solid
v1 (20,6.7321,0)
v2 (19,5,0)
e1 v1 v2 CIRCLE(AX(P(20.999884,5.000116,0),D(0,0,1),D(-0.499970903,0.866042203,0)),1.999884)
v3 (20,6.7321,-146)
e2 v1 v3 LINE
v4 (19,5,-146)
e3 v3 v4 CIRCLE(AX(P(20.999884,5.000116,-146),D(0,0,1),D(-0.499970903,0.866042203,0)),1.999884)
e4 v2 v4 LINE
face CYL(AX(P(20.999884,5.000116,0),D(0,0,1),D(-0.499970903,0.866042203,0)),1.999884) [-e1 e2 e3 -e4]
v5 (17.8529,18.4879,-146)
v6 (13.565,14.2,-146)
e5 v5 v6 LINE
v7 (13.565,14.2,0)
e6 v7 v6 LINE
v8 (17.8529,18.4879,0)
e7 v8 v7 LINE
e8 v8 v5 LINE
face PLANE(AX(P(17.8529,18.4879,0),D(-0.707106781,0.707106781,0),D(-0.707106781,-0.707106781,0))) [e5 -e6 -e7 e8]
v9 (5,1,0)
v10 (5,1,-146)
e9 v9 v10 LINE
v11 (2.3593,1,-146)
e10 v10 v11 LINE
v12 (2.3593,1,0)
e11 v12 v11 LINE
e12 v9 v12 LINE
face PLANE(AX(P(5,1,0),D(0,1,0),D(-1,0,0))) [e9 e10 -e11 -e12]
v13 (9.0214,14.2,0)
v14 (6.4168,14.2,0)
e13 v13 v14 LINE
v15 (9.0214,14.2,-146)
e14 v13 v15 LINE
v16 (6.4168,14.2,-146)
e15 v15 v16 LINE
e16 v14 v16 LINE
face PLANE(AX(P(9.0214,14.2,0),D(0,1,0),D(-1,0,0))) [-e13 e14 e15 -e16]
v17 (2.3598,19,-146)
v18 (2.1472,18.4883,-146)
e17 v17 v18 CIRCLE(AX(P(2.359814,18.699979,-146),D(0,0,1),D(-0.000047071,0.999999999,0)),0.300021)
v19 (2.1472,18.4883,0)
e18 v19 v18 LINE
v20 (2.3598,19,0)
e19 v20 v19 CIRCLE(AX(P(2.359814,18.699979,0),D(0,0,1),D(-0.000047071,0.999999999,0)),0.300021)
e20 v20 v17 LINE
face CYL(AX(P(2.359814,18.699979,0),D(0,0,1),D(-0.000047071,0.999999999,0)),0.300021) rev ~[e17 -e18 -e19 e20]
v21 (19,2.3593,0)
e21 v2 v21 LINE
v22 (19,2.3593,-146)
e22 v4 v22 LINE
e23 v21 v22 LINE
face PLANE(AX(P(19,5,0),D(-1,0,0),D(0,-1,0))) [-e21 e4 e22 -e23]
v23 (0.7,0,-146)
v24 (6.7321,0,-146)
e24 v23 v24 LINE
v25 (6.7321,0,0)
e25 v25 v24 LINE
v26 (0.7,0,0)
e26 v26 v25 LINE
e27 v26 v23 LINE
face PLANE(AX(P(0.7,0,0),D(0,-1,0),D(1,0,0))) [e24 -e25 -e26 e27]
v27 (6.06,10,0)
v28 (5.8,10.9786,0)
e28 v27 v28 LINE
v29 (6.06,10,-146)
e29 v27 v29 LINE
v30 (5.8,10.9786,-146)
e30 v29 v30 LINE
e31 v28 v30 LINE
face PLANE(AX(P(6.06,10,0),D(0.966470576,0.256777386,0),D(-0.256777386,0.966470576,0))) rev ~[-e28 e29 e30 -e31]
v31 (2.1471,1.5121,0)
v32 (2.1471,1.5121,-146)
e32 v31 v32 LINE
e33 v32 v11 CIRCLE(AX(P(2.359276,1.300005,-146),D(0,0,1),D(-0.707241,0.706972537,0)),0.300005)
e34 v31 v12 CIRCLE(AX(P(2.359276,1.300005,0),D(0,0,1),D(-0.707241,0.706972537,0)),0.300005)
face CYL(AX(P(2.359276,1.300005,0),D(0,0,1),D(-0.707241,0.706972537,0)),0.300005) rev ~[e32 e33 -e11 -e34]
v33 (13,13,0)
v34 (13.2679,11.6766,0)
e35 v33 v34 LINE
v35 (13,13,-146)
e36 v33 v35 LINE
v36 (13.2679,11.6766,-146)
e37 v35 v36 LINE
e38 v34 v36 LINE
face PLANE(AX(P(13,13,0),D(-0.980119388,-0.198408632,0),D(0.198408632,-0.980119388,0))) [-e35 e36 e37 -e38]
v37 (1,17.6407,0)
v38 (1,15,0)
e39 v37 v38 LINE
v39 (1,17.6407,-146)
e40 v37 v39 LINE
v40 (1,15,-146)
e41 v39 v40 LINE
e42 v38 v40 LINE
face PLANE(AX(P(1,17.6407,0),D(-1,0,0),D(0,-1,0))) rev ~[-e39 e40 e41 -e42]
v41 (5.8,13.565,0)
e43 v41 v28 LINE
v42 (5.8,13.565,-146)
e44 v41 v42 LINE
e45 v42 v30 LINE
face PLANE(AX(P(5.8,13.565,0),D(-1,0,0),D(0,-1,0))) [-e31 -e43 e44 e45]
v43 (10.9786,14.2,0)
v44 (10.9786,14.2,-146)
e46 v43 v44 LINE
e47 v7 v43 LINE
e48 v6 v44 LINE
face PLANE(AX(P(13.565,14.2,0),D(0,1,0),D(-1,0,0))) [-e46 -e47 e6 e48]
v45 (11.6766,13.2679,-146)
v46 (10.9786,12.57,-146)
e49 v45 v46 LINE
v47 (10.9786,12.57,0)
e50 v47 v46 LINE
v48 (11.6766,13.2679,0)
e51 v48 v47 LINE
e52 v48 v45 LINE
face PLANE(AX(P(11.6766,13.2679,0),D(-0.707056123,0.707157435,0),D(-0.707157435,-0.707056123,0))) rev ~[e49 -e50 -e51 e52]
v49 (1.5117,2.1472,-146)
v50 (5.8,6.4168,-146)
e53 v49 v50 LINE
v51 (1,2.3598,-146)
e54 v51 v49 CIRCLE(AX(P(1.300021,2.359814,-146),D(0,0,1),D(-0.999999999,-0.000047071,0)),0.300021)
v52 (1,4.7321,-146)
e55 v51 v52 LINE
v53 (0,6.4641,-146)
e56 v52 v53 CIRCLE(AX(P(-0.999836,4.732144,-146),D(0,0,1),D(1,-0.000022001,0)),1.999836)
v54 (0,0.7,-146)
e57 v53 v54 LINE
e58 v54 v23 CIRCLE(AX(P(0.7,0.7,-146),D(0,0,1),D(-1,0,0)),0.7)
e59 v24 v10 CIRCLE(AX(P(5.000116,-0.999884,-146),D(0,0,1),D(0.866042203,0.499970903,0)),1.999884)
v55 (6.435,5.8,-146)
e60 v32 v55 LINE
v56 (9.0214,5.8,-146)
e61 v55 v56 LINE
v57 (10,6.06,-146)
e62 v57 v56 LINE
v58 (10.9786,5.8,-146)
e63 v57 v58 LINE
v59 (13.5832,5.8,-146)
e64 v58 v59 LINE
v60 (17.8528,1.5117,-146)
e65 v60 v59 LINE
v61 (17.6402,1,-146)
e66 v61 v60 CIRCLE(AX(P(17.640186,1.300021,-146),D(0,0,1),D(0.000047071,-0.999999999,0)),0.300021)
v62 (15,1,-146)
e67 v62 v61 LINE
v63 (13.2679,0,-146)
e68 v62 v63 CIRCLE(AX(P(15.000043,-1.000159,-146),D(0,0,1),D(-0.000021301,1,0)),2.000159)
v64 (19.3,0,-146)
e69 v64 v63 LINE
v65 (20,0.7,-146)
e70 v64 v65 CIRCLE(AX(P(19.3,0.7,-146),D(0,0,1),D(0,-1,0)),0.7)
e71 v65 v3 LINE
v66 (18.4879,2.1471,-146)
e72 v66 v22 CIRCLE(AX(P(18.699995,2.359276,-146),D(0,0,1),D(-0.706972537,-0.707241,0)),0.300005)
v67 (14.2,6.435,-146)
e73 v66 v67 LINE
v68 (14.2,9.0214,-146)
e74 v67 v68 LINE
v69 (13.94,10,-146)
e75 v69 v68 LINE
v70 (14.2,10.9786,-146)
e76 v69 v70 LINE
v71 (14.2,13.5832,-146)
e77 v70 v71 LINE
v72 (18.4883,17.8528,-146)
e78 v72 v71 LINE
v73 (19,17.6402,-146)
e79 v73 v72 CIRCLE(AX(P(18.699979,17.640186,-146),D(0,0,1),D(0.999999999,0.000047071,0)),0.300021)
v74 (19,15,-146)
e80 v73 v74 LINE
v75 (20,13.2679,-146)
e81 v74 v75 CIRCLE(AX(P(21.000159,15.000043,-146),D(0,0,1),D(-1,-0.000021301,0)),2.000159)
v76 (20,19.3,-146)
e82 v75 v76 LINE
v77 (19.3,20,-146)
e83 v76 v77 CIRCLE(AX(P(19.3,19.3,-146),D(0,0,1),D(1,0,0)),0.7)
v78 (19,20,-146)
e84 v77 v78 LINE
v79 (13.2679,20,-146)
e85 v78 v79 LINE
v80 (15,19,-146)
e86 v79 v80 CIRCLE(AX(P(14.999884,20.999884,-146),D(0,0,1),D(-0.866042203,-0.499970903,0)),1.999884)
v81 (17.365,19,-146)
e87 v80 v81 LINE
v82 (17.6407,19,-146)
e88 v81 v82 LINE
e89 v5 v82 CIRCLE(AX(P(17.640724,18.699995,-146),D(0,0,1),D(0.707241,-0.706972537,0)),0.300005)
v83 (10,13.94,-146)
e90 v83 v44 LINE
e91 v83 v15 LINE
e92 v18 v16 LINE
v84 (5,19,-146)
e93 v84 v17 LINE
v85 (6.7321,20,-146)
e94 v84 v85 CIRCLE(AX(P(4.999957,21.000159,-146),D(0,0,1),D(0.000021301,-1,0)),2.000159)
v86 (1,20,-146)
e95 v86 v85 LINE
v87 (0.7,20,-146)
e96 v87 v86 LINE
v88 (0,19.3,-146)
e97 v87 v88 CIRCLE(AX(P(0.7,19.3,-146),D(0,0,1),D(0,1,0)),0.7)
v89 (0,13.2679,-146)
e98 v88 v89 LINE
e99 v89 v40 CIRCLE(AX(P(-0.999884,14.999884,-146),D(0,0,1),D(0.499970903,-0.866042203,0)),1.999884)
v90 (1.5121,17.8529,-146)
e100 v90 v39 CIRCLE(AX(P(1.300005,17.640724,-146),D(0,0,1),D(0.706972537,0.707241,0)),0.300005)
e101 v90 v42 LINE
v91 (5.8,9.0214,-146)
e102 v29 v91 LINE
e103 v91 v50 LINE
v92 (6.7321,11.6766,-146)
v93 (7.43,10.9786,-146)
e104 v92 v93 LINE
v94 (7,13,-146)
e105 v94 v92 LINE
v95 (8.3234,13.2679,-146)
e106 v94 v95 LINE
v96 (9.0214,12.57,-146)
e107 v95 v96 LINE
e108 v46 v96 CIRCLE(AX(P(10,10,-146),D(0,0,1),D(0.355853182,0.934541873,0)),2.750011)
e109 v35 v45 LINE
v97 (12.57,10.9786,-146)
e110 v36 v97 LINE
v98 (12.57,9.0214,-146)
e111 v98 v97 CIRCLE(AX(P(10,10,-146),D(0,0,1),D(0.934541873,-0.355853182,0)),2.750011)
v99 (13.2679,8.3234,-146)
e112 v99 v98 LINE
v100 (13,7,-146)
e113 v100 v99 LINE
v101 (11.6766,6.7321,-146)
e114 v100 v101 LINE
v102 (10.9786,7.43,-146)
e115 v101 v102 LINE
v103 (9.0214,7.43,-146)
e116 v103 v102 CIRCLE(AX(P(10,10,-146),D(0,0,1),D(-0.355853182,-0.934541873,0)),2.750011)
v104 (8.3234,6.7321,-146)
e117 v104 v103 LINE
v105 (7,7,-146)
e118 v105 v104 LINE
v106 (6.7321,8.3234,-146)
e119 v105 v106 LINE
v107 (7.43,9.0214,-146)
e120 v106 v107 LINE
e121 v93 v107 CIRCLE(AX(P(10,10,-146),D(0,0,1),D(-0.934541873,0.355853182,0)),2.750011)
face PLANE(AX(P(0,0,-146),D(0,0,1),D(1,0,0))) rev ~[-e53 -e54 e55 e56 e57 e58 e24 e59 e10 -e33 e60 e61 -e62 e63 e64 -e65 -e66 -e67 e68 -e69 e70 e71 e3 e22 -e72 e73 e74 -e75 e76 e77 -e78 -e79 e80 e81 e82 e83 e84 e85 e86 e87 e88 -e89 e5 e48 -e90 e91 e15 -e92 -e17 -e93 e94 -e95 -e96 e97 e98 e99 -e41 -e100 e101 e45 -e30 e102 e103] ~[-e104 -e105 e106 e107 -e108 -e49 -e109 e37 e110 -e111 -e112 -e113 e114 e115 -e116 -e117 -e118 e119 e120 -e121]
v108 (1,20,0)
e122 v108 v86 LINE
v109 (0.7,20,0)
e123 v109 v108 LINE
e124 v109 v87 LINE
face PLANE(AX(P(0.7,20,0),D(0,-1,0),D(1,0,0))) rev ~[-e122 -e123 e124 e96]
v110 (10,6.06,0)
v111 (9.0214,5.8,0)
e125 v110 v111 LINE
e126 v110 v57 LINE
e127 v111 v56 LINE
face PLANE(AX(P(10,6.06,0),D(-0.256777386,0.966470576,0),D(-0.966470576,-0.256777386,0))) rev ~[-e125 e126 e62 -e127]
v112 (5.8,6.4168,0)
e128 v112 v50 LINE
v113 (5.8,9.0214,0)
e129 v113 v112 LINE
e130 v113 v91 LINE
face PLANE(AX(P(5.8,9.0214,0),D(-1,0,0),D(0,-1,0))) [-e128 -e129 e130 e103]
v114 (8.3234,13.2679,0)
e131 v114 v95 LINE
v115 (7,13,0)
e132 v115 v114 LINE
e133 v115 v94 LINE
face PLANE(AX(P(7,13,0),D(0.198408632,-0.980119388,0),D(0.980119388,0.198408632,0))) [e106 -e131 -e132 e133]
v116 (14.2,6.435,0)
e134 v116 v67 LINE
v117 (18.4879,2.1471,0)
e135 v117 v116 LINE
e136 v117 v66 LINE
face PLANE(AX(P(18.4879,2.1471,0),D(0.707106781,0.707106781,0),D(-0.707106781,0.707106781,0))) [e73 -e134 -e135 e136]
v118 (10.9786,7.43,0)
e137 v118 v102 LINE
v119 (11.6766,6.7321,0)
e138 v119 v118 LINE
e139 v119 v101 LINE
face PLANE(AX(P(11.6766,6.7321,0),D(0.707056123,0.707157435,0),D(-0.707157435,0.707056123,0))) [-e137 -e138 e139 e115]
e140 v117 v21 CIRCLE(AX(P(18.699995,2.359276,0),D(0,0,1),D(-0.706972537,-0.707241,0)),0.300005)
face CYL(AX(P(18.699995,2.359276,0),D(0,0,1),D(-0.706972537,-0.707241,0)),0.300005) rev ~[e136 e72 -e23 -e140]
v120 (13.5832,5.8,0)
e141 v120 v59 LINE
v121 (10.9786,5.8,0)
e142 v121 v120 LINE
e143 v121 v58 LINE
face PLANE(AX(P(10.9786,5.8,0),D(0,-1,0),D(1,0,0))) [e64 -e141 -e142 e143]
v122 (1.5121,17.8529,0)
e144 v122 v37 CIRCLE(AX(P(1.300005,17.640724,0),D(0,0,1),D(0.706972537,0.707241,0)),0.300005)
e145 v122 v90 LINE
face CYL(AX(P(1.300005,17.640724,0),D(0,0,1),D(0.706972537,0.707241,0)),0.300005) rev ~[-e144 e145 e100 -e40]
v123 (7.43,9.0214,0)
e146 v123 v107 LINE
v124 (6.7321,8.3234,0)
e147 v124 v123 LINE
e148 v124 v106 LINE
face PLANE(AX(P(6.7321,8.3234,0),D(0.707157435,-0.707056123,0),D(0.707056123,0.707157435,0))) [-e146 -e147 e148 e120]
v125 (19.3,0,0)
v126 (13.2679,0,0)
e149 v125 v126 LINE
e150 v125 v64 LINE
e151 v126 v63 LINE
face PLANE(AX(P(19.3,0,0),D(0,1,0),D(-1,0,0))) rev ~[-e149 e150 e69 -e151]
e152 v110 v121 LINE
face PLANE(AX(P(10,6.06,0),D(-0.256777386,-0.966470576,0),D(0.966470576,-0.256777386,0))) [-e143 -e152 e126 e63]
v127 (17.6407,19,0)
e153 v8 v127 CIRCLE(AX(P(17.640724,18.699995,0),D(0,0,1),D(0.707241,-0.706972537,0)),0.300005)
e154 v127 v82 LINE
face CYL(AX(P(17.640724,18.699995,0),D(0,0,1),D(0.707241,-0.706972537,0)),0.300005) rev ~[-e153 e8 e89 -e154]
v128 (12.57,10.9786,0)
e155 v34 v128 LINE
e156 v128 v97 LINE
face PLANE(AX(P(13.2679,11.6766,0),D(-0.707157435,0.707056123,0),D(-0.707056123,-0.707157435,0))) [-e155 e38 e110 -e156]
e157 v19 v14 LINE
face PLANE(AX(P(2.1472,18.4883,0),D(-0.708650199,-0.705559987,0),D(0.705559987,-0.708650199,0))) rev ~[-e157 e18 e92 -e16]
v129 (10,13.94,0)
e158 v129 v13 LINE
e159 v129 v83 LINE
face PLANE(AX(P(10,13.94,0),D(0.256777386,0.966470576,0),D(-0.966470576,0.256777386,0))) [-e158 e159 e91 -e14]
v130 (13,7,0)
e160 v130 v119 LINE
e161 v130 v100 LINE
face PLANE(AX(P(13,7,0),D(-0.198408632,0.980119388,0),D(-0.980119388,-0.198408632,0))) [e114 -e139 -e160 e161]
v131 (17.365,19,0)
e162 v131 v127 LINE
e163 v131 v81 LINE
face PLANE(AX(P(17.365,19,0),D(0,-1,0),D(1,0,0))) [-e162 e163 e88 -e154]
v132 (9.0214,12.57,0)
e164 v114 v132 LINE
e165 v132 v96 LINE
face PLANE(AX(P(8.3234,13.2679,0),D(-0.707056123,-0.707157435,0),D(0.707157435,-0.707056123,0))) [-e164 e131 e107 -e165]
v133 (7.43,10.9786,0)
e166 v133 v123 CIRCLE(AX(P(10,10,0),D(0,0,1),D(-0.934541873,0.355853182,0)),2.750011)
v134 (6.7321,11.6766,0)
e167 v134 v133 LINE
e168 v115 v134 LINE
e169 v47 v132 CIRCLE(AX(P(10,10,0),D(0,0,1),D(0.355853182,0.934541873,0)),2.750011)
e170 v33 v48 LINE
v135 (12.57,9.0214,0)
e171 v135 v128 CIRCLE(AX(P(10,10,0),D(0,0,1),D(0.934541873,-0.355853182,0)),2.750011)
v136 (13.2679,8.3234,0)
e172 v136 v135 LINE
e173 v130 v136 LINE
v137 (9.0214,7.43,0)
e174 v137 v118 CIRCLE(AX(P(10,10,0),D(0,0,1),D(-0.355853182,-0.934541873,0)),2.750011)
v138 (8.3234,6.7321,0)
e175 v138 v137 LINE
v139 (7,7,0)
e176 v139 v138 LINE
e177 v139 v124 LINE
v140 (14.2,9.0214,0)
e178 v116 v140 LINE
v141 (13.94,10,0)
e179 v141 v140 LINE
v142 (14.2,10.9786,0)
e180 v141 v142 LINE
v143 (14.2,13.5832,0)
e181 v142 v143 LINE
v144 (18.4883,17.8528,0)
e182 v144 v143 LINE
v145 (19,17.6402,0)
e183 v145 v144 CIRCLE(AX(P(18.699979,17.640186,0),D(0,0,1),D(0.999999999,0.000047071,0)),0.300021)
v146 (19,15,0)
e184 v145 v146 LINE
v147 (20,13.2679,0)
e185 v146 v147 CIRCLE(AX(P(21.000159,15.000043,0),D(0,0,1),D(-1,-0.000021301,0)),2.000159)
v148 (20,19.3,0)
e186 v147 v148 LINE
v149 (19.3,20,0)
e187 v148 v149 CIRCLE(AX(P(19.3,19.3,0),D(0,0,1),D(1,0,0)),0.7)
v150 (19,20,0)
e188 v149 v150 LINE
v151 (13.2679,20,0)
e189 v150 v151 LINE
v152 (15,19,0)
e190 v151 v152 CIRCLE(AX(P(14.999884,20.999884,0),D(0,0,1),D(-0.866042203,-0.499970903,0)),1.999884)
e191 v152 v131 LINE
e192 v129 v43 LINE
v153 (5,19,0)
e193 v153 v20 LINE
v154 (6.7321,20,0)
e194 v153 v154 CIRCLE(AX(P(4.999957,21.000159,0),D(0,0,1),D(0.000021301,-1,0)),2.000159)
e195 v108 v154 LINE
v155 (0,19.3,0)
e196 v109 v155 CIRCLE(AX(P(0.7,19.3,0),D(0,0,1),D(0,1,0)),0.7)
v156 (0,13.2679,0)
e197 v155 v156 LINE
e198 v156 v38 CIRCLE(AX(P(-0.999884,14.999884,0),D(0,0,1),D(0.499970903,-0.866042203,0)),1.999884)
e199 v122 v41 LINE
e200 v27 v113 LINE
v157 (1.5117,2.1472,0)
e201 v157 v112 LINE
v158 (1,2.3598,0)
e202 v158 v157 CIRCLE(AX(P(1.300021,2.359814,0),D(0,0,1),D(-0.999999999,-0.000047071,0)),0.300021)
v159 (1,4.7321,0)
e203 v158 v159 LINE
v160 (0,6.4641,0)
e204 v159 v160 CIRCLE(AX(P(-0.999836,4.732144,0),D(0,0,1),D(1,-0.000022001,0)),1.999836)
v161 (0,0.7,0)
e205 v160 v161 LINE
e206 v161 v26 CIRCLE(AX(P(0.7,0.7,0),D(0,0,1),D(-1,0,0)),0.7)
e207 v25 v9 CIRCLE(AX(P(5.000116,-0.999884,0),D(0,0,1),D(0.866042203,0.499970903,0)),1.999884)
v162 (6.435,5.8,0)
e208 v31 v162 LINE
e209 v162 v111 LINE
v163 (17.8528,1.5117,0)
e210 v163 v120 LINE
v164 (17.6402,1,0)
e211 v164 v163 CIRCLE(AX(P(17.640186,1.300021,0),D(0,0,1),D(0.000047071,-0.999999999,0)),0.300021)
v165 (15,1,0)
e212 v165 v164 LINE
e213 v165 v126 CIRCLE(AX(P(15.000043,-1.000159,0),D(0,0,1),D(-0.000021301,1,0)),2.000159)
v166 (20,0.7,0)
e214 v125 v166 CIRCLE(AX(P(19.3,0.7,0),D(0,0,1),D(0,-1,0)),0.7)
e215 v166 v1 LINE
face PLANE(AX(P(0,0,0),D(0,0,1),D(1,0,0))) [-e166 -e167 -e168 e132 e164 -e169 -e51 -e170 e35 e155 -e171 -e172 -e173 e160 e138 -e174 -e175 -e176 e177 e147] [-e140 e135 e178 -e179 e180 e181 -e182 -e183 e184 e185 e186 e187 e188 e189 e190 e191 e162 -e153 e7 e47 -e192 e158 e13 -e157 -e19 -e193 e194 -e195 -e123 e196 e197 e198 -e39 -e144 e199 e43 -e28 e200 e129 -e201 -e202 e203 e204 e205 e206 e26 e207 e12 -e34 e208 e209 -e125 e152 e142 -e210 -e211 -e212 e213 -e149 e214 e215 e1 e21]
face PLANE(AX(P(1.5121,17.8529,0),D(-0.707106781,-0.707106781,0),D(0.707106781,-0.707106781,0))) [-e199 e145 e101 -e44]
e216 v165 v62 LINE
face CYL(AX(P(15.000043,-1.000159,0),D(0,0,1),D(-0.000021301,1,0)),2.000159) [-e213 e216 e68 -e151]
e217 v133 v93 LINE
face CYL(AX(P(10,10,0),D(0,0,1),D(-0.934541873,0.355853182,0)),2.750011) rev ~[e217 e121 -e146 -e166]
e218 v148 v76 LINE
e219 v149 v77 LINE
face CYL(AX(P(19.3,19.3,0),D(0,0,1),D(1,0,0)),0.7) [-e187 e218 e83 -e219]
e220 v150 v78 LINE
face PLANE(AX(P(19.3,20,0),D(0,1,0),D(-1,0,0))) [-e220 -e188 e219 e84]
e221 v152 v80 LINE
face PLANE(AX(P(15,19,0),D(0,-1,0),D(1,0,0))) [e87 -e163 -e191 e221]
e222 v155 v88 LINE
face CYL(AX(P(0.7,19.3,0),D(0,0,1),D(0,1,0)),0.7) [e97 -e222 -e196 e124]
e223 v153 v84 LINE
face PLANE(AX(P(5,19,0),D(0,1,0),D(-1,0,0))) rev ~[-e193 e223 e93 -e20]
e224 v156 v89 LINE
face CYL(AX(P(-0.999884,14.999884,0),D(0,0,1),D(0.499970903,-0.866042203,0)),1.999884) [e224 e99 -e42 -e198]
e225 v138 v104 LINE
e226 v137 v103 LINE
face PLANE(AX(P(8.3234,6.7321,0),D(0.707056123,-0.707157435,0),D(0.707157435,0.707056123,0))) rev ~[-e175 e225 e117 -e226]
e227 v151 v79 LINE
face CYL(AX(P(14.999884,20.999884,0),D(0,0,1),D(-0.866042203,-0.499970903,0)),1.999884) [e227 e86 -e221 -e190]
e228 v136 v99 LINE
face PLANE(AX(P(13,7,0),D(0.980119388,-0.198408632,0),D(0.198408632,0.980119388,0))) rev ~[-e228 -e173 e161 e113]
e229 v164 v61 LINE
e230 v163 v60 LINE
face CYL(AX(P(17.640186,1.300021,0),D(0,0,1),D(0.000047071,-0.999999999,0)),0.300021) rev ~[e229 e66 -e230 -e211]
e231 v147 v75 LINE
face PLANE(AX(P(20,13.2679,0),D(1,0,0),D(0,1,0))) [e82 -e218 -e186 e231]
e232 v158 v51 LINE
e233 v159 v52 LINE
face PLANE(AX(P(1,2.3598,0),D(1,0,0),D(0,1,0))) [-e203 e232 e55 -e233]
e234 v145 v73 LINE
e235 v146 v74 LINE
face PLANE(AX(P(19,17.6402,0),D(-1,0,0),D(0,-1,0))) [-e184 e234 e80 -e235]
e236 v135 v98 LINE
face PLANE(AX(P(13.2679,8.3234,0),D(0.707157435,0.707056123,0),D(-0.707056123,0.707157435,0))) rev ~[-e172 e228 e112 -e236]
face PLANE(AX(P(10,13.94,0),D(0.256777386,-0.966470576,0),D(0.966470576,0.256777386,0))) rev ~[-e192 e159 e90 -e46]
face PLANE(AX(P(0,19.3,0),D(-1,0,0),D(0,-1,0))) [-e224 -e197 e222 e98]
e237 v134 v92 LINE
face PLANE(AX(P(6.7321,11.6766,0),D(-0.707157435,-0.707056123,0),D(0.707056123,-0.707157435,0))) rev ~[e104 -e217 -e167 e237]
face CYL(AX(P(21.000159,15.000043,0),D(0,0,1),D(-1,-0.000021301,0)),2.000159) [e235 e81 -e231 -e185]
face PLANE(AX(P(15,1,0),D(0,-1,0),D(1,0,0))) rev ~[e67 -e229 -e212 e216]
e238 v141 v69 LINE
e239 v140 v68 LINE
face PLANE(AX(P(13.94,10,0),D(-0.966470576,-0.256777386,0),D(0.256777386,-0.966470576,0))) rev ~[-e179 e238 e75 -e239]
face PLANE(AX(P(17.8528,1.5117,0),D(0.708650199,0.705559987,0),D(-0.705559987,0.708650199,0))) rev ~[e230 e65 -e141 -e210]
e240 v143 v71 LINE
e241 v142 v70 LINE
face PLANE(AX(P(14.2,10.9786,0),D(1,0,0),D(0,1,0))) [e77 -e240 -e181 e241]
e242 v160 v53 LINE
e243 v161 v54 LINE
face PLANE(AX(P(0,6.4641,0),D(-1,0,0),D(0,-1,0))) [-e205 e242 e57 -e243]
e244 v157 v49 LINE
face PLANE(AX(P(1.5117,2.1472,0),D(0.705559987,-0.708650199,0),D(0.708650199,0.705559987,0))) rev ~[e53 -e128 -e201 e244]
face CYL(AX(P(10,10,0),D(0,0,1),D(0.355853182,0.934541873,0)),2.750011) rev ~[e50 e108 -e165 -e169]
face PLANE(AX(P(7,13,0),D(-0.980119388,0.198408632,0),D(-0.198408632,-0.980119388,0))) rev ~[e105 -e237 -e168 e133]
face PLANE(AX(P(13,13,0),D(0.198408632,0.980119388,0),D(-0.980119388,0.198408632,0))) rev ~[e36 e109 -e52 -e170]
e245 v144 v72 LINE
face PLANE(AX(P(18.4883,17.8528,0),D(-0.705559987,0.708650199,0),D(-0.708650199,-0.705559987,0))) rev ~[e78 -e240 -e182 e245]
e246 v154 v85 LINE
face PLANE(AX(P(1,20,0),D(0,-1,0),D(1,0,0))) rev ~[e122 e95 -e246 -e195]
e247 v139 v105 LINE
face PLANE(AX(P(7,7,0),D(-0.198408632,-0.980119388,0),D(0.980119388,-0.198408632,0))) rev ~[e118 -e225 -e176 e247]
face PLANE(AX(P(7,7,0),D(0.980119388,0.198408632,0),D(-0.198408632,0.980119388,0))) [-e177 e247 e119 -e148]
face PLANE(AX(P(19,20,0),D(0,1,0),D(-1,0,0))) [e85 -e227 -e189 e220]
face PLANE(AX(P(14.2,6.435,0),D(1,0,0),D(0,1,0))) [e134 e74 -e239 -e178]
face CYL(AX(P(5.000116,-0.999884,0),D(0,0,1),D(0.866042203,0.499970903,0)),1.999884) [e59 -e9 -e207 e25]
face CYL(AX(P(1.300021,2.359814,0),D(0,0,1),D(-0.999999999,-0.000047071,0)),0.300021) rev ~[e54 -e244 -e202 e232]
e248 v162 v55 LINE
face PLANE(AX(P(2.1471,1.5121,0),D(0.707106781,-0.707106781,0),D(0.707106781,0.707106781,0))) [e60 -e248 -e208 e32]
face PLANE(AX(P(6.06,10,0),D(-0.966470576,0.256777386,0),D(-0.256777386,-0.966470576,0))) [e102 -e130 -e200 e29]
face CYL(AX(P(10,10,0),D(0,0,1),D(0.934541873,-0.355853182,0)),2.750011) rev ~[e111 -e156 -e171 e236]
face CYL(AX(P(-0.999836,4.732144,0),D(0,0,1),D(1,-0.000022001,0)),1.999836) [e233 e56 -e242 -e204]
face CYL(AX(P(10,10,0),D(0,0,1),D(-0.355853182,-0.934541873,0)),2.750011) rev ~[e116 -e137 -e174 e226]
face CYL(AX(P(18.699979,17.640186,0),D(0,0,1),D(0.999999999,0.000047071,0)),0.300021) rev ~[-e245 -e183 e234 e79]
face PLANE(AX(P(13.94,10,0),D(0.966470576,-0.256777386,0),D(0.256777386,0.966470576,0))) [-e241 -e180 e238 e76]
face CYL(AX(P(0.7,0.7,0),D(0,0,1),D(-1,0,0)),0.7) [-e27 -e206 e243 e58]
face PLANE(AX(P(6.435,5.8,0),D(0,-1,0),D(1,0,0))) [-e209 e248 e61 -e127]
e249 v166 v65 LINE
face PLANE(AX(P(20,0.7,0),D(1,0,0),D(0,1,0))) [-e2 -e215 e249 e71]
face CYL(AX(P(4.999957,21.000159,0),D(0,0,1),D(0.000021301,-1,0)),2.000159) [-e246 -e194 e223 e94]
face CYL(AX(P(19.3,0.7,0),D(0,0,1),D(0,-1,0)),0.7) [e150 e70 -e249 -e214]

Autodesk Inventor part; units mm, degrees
ref_plane "YZ Plane" through (0, 0, 0) normal (1, 0, 0) x (0, 1, 0)
ref_plane "XZ Plane" through (0, 0, 0) normal (0, 1, 0) x (-1, 0, 0)
ref_plane "XY Plane" through (0, 0, 0) normal (0, 0, 1) x (1, 0, 0)
sketch "Boceto1" plane through (0, 0, 0) normal (0, 0, 1) x (1, 0, 0)
  line L0 (0, 20) -> (7, 20)
  line L1 (7, 20) -> (7, 21)
  line L2 (0, 20) -> (1, 20)
  line L3 (1, 17.6407) -> (1, 15)
  line L4 (-1, 13) -> (0, 13)
  line L5 (5, 19) -> (2.3598, 19)
  arc A0 (5, 19) -> (6.7321, 20) centre (5, 21) ccw
  arc A1 (0, 13.2679) -> (1, 15) centre (-1, 15) ccw
  line L6 (20, 20) -> (13, 20)
  line L7 (19.3, 20) -> (19, 20)
  line L8 (19, 17.6402) -> (19, 15)
  line L9 (21, 13) -> (20, 13)
  line L10 (13, 20) -> (13, 21)
  line L11 (15, 19) -> (18.365, 19)
  arc A2 (13.2679, 20) -> (15, 19) centre (15, 21) ccw
  arc A3 (19, 15) -> (20, 13.2679) centre (21, 15) ccw
  line L12 (0.7, 0) -> (7, 0)
  line L13 (-1, 8.6378) -> (0, 8.6378)
  line L14 (7, 0) -> (7, -1)
  line L15 (5, 1) -> (2.3593, 1)
  line L16 (19.3, 0) -> (13, 0)
  line L17 (13, 0) -> (13, -1)
  line L18 (15, 1) -> (17.6402, 1)
  line L19 (19, 5) -> (19, 2.3593)
  arc A4 (20, 6.7321) -> (19, 5) centre (21, 5) ccw
  arc A5 (15, 1) -> (13.2679, 0) centre (15, -1) ccw
  arc A6 (6.7321, 0) -> (5, 1) centre (5, -1) ccw
  line L20 (20, 20) -> (13, 20)
  line L21 (7, 20) -> (0.7, 20)
  line L22 (0, 19.3) -> (0, 13)
  line L23 (0, 6.4641) -> (0, 0.7)
  line L24 (20, 0.7) -> (20, 6.7321)
  line L25 (20, 13) -> (20, 19.3)
  line L26 (0, 0) -> (7, 0)
  line L27 (13, 0) -> (20, 0)
  line L28 (17.6407, 19) -> (17.365, 19)
  line L29 (17.8529, 18.4879) -> (13.565, 14.2)
  line L30 (18.4883, 17.8528) -> (14.2, 13.5832)
  line L31 (1.5121, 17.8529) -> (5.8, 13.565)
  line L32 (2.1472, 18.4883) -> (6.4168, 14.2)
  line L33 (2.1471, 1.5121) -> (6.435, 5.8)
  line L34 (1.5117, 2.1472) -> (5.8, 6.4168)
  line L35 (18.4879, 2.1471) -> (14.2, 6.435)
  line L36 (17.8528, 1.5117) -> (13.5832, 5.8)
  line L37 (13, 13) -> (11.6766, 13.2679)
  line L38 (11.6766, 13.2679) -> (10.9786, 12.57)
  line L39 (13, 13) -> (13.2679, 11.6766)
  line L40 (13.2679, 11.6766) -> (12.57, 10.9786)
  line L41 (6.7321, 11.6766) -> (7.43, 10.9786)
  line L42 (7, 13) -> (6.7321, 11.6766)
  line L43 (7, 13) -> (8.3234, 13.2679)
  line L44 (8.3234, 13.2679) -> (9.0214, 12.57)
  line L45 (8.3234, 6.7321) -> (9.0214, 7.43)
  line L46 (7, 7) -> (8.3234, 6.7321)
  line L47 (7, 7) -> (6.7321, 8.3234)
  line L48 (6.7321, 8.3234) -> (7.43, 9.0214)
  line L49 (13.2679, 8.3234) -> (12.57, 9.0214)
  line L50 (13, 7) -> (13.2679, 8.3234)
  line L51 (13, 7) -> (11.6766, 6.7321)
  line L52 (11.6766, 6.7321) -> (10.9786, 7.43)
  line L53 (7, 13) -> (5.8, 14.2) construction
  line L54 (5.8, 5.8) -> (7, 7) construction
  line L55 (14.2, 5.8) -> (13, 7) construction
  line L56 (11.9445, 8.0555) -> (8.0555, 11.9445) construction
  line L57 (8.0555, 8.0555) -> (11.9445, 11.9445) construction
  line L58 (13, 13) -> (14.2, 14.2) construction
  arc A7 (10.9786, 12.57) -> (9.0214, 12.57) centre (10, 10) ccw
  arc A8 (12.57, 9.0214) -> (12.57, 10.9786) centre (10, 10) ccw
  arc A9 (7.43, 10.9786) -> (7.43, 9.0214) centre (10, 10) ccw
  arc A10 (9.0214, 7.43) -> (10.9786, 7.43) centre (10, 10) ccw
  line L59 (13.94, 10) -> (14.2, 10.9786)
  line L60 (13.94, 10) -> (14.2, 9.0214)
  line L61 (14.2, 6.435) -> (14.2, 9.0214)
  line L62 (14.2, 10.9786) -> (14.2, 13.5832)
  line L63 (10, 13.94) -> (10.9786, 14.2)
  line L64 (10.9786, 14.2) -> (10, 13.94)
  line L65 (10, 13.94) -> (9.0214, 14.2)
  line L66 (6.06, 10) -> (5.8, 10.9786)
  line L67 (6.06, 10) -> (5.8, 9.0214)
  line L68 (10, 6.06) -> (10.9786, 5.8)
  line L69 (10, 6.06) -> (9.0214, 5.8)
  line L70 (6.435, 5.8) -> (9.0214, 5.8)
  line L71 (10.9786, 5.8) -> (13.5832, 5.8)
  line L72 (5.8, 13.565) -> (5.8, 10.9786)
  line L73 (5.8, 9.0214) -> (5.8, 6.4168)
  line L74 (13.565, 14.2) -> (10.9786, 14.2)
  line L75 (9.0214, 14.2) -> (6.4168, 14.2)
  line L76 (1, 2.3598) -> (1, 4.7321)
  arc A11 (1, 4.7321) -> (0, 6.4641) centre (-1, 4.7321) ccw
  arc A12 (0.7, 20) -> (0, 19.3) centre (0.7, 19.3) ccw
  arc A13 (20, 19.3) -> (19.3, 20) centre (19.3, 19.3) ccw
  arc A14 (19.3, 0) -> (20, 0.7) centre (19.3, 0.7) ccw
  arc A15 (0, 0.7) -> (0.7, 0) centre (0.7, 0.7) ccw
  arc A16 (2.3598, 19) -> (2.1472, 18.4883) centre (2.3598, 18.7) ccw
  arc A17 (1.5121, 17.8529) -> (1, 17.6407) centre (1.3, 17.6407) ccw
  arc A18 (17.8529, 18.4879) -> (17.6407, 19) centre (17.6407, 18.7) ccw
  arc A19 (19, 17.6402) -> (18.4883, 17.8528) centre (18.7, 17.6402) ccw
  arc A20 (18.4879, 2.1471) -> (19, 2.3593) centre (18.7, 2.3593) ccw
  arc A21 (17.6402, 1) -> (17.8528, 1.5117) centre (17.6402, 1.3) ccw
  arc A22 (2.1471, 1.5121) -> (2.3593, 1) centre (2.3593, 1.3) ccw
  arc A23 (1, 2.3598) -> (1.5117, 2.1472) centre (1.3, 2.3598) ccw
  point P0 (7, 19)
  point P1 (1, 13)
  point P2 (19, 13)
  point P3 (1, 1.6378)
  point P4 (1, 8.6378)
  point P5 (7, 1)
  point P6 (13, 1)
  point P7 (19, 1.635)
  point P8 (1, 18.365)
  point P9 (19, 18.3622)
  point P10 (19.6406, 19)
  point P11 (1, 19.6406)
  point P12 (0.3594, 1)
  point P13 (19, 0.3594)
  point P14 (1.6378, 19)
  point P15 (1.635, 1)
  point P16 (18.3622, 1)
  dimension "d1" = 20
  dimension "d2" = 20
  dimension "d5" = 7
  dimension "d6" = 1
  dimension "d7" = 1
  dimension "d8" = 7
  dimension "d9" = 2
  dimension "d10" = 2
  dimension "d11" = 7
  dimension "d12" = 1
  dimension "d13" = 7
  dimension "d14" = 2
  dimension "d15" = 7
  dimension "d16" = 1
  dimension "d17" = 7
  dimension "d20" = 8.4
  dimension "d21" = 8.4
  dimension "d23" = 0.9
  dimension "d26" = 360
  dimension "d30" = 360
  dimension "d38" = 2
  dimension "d41" = 0.7
  dimension "d42" = 0.3
extrude "Extrusión3" add sketch "Boceto1" against normal blind 146
properties part number "PerfilBaseJohan"
